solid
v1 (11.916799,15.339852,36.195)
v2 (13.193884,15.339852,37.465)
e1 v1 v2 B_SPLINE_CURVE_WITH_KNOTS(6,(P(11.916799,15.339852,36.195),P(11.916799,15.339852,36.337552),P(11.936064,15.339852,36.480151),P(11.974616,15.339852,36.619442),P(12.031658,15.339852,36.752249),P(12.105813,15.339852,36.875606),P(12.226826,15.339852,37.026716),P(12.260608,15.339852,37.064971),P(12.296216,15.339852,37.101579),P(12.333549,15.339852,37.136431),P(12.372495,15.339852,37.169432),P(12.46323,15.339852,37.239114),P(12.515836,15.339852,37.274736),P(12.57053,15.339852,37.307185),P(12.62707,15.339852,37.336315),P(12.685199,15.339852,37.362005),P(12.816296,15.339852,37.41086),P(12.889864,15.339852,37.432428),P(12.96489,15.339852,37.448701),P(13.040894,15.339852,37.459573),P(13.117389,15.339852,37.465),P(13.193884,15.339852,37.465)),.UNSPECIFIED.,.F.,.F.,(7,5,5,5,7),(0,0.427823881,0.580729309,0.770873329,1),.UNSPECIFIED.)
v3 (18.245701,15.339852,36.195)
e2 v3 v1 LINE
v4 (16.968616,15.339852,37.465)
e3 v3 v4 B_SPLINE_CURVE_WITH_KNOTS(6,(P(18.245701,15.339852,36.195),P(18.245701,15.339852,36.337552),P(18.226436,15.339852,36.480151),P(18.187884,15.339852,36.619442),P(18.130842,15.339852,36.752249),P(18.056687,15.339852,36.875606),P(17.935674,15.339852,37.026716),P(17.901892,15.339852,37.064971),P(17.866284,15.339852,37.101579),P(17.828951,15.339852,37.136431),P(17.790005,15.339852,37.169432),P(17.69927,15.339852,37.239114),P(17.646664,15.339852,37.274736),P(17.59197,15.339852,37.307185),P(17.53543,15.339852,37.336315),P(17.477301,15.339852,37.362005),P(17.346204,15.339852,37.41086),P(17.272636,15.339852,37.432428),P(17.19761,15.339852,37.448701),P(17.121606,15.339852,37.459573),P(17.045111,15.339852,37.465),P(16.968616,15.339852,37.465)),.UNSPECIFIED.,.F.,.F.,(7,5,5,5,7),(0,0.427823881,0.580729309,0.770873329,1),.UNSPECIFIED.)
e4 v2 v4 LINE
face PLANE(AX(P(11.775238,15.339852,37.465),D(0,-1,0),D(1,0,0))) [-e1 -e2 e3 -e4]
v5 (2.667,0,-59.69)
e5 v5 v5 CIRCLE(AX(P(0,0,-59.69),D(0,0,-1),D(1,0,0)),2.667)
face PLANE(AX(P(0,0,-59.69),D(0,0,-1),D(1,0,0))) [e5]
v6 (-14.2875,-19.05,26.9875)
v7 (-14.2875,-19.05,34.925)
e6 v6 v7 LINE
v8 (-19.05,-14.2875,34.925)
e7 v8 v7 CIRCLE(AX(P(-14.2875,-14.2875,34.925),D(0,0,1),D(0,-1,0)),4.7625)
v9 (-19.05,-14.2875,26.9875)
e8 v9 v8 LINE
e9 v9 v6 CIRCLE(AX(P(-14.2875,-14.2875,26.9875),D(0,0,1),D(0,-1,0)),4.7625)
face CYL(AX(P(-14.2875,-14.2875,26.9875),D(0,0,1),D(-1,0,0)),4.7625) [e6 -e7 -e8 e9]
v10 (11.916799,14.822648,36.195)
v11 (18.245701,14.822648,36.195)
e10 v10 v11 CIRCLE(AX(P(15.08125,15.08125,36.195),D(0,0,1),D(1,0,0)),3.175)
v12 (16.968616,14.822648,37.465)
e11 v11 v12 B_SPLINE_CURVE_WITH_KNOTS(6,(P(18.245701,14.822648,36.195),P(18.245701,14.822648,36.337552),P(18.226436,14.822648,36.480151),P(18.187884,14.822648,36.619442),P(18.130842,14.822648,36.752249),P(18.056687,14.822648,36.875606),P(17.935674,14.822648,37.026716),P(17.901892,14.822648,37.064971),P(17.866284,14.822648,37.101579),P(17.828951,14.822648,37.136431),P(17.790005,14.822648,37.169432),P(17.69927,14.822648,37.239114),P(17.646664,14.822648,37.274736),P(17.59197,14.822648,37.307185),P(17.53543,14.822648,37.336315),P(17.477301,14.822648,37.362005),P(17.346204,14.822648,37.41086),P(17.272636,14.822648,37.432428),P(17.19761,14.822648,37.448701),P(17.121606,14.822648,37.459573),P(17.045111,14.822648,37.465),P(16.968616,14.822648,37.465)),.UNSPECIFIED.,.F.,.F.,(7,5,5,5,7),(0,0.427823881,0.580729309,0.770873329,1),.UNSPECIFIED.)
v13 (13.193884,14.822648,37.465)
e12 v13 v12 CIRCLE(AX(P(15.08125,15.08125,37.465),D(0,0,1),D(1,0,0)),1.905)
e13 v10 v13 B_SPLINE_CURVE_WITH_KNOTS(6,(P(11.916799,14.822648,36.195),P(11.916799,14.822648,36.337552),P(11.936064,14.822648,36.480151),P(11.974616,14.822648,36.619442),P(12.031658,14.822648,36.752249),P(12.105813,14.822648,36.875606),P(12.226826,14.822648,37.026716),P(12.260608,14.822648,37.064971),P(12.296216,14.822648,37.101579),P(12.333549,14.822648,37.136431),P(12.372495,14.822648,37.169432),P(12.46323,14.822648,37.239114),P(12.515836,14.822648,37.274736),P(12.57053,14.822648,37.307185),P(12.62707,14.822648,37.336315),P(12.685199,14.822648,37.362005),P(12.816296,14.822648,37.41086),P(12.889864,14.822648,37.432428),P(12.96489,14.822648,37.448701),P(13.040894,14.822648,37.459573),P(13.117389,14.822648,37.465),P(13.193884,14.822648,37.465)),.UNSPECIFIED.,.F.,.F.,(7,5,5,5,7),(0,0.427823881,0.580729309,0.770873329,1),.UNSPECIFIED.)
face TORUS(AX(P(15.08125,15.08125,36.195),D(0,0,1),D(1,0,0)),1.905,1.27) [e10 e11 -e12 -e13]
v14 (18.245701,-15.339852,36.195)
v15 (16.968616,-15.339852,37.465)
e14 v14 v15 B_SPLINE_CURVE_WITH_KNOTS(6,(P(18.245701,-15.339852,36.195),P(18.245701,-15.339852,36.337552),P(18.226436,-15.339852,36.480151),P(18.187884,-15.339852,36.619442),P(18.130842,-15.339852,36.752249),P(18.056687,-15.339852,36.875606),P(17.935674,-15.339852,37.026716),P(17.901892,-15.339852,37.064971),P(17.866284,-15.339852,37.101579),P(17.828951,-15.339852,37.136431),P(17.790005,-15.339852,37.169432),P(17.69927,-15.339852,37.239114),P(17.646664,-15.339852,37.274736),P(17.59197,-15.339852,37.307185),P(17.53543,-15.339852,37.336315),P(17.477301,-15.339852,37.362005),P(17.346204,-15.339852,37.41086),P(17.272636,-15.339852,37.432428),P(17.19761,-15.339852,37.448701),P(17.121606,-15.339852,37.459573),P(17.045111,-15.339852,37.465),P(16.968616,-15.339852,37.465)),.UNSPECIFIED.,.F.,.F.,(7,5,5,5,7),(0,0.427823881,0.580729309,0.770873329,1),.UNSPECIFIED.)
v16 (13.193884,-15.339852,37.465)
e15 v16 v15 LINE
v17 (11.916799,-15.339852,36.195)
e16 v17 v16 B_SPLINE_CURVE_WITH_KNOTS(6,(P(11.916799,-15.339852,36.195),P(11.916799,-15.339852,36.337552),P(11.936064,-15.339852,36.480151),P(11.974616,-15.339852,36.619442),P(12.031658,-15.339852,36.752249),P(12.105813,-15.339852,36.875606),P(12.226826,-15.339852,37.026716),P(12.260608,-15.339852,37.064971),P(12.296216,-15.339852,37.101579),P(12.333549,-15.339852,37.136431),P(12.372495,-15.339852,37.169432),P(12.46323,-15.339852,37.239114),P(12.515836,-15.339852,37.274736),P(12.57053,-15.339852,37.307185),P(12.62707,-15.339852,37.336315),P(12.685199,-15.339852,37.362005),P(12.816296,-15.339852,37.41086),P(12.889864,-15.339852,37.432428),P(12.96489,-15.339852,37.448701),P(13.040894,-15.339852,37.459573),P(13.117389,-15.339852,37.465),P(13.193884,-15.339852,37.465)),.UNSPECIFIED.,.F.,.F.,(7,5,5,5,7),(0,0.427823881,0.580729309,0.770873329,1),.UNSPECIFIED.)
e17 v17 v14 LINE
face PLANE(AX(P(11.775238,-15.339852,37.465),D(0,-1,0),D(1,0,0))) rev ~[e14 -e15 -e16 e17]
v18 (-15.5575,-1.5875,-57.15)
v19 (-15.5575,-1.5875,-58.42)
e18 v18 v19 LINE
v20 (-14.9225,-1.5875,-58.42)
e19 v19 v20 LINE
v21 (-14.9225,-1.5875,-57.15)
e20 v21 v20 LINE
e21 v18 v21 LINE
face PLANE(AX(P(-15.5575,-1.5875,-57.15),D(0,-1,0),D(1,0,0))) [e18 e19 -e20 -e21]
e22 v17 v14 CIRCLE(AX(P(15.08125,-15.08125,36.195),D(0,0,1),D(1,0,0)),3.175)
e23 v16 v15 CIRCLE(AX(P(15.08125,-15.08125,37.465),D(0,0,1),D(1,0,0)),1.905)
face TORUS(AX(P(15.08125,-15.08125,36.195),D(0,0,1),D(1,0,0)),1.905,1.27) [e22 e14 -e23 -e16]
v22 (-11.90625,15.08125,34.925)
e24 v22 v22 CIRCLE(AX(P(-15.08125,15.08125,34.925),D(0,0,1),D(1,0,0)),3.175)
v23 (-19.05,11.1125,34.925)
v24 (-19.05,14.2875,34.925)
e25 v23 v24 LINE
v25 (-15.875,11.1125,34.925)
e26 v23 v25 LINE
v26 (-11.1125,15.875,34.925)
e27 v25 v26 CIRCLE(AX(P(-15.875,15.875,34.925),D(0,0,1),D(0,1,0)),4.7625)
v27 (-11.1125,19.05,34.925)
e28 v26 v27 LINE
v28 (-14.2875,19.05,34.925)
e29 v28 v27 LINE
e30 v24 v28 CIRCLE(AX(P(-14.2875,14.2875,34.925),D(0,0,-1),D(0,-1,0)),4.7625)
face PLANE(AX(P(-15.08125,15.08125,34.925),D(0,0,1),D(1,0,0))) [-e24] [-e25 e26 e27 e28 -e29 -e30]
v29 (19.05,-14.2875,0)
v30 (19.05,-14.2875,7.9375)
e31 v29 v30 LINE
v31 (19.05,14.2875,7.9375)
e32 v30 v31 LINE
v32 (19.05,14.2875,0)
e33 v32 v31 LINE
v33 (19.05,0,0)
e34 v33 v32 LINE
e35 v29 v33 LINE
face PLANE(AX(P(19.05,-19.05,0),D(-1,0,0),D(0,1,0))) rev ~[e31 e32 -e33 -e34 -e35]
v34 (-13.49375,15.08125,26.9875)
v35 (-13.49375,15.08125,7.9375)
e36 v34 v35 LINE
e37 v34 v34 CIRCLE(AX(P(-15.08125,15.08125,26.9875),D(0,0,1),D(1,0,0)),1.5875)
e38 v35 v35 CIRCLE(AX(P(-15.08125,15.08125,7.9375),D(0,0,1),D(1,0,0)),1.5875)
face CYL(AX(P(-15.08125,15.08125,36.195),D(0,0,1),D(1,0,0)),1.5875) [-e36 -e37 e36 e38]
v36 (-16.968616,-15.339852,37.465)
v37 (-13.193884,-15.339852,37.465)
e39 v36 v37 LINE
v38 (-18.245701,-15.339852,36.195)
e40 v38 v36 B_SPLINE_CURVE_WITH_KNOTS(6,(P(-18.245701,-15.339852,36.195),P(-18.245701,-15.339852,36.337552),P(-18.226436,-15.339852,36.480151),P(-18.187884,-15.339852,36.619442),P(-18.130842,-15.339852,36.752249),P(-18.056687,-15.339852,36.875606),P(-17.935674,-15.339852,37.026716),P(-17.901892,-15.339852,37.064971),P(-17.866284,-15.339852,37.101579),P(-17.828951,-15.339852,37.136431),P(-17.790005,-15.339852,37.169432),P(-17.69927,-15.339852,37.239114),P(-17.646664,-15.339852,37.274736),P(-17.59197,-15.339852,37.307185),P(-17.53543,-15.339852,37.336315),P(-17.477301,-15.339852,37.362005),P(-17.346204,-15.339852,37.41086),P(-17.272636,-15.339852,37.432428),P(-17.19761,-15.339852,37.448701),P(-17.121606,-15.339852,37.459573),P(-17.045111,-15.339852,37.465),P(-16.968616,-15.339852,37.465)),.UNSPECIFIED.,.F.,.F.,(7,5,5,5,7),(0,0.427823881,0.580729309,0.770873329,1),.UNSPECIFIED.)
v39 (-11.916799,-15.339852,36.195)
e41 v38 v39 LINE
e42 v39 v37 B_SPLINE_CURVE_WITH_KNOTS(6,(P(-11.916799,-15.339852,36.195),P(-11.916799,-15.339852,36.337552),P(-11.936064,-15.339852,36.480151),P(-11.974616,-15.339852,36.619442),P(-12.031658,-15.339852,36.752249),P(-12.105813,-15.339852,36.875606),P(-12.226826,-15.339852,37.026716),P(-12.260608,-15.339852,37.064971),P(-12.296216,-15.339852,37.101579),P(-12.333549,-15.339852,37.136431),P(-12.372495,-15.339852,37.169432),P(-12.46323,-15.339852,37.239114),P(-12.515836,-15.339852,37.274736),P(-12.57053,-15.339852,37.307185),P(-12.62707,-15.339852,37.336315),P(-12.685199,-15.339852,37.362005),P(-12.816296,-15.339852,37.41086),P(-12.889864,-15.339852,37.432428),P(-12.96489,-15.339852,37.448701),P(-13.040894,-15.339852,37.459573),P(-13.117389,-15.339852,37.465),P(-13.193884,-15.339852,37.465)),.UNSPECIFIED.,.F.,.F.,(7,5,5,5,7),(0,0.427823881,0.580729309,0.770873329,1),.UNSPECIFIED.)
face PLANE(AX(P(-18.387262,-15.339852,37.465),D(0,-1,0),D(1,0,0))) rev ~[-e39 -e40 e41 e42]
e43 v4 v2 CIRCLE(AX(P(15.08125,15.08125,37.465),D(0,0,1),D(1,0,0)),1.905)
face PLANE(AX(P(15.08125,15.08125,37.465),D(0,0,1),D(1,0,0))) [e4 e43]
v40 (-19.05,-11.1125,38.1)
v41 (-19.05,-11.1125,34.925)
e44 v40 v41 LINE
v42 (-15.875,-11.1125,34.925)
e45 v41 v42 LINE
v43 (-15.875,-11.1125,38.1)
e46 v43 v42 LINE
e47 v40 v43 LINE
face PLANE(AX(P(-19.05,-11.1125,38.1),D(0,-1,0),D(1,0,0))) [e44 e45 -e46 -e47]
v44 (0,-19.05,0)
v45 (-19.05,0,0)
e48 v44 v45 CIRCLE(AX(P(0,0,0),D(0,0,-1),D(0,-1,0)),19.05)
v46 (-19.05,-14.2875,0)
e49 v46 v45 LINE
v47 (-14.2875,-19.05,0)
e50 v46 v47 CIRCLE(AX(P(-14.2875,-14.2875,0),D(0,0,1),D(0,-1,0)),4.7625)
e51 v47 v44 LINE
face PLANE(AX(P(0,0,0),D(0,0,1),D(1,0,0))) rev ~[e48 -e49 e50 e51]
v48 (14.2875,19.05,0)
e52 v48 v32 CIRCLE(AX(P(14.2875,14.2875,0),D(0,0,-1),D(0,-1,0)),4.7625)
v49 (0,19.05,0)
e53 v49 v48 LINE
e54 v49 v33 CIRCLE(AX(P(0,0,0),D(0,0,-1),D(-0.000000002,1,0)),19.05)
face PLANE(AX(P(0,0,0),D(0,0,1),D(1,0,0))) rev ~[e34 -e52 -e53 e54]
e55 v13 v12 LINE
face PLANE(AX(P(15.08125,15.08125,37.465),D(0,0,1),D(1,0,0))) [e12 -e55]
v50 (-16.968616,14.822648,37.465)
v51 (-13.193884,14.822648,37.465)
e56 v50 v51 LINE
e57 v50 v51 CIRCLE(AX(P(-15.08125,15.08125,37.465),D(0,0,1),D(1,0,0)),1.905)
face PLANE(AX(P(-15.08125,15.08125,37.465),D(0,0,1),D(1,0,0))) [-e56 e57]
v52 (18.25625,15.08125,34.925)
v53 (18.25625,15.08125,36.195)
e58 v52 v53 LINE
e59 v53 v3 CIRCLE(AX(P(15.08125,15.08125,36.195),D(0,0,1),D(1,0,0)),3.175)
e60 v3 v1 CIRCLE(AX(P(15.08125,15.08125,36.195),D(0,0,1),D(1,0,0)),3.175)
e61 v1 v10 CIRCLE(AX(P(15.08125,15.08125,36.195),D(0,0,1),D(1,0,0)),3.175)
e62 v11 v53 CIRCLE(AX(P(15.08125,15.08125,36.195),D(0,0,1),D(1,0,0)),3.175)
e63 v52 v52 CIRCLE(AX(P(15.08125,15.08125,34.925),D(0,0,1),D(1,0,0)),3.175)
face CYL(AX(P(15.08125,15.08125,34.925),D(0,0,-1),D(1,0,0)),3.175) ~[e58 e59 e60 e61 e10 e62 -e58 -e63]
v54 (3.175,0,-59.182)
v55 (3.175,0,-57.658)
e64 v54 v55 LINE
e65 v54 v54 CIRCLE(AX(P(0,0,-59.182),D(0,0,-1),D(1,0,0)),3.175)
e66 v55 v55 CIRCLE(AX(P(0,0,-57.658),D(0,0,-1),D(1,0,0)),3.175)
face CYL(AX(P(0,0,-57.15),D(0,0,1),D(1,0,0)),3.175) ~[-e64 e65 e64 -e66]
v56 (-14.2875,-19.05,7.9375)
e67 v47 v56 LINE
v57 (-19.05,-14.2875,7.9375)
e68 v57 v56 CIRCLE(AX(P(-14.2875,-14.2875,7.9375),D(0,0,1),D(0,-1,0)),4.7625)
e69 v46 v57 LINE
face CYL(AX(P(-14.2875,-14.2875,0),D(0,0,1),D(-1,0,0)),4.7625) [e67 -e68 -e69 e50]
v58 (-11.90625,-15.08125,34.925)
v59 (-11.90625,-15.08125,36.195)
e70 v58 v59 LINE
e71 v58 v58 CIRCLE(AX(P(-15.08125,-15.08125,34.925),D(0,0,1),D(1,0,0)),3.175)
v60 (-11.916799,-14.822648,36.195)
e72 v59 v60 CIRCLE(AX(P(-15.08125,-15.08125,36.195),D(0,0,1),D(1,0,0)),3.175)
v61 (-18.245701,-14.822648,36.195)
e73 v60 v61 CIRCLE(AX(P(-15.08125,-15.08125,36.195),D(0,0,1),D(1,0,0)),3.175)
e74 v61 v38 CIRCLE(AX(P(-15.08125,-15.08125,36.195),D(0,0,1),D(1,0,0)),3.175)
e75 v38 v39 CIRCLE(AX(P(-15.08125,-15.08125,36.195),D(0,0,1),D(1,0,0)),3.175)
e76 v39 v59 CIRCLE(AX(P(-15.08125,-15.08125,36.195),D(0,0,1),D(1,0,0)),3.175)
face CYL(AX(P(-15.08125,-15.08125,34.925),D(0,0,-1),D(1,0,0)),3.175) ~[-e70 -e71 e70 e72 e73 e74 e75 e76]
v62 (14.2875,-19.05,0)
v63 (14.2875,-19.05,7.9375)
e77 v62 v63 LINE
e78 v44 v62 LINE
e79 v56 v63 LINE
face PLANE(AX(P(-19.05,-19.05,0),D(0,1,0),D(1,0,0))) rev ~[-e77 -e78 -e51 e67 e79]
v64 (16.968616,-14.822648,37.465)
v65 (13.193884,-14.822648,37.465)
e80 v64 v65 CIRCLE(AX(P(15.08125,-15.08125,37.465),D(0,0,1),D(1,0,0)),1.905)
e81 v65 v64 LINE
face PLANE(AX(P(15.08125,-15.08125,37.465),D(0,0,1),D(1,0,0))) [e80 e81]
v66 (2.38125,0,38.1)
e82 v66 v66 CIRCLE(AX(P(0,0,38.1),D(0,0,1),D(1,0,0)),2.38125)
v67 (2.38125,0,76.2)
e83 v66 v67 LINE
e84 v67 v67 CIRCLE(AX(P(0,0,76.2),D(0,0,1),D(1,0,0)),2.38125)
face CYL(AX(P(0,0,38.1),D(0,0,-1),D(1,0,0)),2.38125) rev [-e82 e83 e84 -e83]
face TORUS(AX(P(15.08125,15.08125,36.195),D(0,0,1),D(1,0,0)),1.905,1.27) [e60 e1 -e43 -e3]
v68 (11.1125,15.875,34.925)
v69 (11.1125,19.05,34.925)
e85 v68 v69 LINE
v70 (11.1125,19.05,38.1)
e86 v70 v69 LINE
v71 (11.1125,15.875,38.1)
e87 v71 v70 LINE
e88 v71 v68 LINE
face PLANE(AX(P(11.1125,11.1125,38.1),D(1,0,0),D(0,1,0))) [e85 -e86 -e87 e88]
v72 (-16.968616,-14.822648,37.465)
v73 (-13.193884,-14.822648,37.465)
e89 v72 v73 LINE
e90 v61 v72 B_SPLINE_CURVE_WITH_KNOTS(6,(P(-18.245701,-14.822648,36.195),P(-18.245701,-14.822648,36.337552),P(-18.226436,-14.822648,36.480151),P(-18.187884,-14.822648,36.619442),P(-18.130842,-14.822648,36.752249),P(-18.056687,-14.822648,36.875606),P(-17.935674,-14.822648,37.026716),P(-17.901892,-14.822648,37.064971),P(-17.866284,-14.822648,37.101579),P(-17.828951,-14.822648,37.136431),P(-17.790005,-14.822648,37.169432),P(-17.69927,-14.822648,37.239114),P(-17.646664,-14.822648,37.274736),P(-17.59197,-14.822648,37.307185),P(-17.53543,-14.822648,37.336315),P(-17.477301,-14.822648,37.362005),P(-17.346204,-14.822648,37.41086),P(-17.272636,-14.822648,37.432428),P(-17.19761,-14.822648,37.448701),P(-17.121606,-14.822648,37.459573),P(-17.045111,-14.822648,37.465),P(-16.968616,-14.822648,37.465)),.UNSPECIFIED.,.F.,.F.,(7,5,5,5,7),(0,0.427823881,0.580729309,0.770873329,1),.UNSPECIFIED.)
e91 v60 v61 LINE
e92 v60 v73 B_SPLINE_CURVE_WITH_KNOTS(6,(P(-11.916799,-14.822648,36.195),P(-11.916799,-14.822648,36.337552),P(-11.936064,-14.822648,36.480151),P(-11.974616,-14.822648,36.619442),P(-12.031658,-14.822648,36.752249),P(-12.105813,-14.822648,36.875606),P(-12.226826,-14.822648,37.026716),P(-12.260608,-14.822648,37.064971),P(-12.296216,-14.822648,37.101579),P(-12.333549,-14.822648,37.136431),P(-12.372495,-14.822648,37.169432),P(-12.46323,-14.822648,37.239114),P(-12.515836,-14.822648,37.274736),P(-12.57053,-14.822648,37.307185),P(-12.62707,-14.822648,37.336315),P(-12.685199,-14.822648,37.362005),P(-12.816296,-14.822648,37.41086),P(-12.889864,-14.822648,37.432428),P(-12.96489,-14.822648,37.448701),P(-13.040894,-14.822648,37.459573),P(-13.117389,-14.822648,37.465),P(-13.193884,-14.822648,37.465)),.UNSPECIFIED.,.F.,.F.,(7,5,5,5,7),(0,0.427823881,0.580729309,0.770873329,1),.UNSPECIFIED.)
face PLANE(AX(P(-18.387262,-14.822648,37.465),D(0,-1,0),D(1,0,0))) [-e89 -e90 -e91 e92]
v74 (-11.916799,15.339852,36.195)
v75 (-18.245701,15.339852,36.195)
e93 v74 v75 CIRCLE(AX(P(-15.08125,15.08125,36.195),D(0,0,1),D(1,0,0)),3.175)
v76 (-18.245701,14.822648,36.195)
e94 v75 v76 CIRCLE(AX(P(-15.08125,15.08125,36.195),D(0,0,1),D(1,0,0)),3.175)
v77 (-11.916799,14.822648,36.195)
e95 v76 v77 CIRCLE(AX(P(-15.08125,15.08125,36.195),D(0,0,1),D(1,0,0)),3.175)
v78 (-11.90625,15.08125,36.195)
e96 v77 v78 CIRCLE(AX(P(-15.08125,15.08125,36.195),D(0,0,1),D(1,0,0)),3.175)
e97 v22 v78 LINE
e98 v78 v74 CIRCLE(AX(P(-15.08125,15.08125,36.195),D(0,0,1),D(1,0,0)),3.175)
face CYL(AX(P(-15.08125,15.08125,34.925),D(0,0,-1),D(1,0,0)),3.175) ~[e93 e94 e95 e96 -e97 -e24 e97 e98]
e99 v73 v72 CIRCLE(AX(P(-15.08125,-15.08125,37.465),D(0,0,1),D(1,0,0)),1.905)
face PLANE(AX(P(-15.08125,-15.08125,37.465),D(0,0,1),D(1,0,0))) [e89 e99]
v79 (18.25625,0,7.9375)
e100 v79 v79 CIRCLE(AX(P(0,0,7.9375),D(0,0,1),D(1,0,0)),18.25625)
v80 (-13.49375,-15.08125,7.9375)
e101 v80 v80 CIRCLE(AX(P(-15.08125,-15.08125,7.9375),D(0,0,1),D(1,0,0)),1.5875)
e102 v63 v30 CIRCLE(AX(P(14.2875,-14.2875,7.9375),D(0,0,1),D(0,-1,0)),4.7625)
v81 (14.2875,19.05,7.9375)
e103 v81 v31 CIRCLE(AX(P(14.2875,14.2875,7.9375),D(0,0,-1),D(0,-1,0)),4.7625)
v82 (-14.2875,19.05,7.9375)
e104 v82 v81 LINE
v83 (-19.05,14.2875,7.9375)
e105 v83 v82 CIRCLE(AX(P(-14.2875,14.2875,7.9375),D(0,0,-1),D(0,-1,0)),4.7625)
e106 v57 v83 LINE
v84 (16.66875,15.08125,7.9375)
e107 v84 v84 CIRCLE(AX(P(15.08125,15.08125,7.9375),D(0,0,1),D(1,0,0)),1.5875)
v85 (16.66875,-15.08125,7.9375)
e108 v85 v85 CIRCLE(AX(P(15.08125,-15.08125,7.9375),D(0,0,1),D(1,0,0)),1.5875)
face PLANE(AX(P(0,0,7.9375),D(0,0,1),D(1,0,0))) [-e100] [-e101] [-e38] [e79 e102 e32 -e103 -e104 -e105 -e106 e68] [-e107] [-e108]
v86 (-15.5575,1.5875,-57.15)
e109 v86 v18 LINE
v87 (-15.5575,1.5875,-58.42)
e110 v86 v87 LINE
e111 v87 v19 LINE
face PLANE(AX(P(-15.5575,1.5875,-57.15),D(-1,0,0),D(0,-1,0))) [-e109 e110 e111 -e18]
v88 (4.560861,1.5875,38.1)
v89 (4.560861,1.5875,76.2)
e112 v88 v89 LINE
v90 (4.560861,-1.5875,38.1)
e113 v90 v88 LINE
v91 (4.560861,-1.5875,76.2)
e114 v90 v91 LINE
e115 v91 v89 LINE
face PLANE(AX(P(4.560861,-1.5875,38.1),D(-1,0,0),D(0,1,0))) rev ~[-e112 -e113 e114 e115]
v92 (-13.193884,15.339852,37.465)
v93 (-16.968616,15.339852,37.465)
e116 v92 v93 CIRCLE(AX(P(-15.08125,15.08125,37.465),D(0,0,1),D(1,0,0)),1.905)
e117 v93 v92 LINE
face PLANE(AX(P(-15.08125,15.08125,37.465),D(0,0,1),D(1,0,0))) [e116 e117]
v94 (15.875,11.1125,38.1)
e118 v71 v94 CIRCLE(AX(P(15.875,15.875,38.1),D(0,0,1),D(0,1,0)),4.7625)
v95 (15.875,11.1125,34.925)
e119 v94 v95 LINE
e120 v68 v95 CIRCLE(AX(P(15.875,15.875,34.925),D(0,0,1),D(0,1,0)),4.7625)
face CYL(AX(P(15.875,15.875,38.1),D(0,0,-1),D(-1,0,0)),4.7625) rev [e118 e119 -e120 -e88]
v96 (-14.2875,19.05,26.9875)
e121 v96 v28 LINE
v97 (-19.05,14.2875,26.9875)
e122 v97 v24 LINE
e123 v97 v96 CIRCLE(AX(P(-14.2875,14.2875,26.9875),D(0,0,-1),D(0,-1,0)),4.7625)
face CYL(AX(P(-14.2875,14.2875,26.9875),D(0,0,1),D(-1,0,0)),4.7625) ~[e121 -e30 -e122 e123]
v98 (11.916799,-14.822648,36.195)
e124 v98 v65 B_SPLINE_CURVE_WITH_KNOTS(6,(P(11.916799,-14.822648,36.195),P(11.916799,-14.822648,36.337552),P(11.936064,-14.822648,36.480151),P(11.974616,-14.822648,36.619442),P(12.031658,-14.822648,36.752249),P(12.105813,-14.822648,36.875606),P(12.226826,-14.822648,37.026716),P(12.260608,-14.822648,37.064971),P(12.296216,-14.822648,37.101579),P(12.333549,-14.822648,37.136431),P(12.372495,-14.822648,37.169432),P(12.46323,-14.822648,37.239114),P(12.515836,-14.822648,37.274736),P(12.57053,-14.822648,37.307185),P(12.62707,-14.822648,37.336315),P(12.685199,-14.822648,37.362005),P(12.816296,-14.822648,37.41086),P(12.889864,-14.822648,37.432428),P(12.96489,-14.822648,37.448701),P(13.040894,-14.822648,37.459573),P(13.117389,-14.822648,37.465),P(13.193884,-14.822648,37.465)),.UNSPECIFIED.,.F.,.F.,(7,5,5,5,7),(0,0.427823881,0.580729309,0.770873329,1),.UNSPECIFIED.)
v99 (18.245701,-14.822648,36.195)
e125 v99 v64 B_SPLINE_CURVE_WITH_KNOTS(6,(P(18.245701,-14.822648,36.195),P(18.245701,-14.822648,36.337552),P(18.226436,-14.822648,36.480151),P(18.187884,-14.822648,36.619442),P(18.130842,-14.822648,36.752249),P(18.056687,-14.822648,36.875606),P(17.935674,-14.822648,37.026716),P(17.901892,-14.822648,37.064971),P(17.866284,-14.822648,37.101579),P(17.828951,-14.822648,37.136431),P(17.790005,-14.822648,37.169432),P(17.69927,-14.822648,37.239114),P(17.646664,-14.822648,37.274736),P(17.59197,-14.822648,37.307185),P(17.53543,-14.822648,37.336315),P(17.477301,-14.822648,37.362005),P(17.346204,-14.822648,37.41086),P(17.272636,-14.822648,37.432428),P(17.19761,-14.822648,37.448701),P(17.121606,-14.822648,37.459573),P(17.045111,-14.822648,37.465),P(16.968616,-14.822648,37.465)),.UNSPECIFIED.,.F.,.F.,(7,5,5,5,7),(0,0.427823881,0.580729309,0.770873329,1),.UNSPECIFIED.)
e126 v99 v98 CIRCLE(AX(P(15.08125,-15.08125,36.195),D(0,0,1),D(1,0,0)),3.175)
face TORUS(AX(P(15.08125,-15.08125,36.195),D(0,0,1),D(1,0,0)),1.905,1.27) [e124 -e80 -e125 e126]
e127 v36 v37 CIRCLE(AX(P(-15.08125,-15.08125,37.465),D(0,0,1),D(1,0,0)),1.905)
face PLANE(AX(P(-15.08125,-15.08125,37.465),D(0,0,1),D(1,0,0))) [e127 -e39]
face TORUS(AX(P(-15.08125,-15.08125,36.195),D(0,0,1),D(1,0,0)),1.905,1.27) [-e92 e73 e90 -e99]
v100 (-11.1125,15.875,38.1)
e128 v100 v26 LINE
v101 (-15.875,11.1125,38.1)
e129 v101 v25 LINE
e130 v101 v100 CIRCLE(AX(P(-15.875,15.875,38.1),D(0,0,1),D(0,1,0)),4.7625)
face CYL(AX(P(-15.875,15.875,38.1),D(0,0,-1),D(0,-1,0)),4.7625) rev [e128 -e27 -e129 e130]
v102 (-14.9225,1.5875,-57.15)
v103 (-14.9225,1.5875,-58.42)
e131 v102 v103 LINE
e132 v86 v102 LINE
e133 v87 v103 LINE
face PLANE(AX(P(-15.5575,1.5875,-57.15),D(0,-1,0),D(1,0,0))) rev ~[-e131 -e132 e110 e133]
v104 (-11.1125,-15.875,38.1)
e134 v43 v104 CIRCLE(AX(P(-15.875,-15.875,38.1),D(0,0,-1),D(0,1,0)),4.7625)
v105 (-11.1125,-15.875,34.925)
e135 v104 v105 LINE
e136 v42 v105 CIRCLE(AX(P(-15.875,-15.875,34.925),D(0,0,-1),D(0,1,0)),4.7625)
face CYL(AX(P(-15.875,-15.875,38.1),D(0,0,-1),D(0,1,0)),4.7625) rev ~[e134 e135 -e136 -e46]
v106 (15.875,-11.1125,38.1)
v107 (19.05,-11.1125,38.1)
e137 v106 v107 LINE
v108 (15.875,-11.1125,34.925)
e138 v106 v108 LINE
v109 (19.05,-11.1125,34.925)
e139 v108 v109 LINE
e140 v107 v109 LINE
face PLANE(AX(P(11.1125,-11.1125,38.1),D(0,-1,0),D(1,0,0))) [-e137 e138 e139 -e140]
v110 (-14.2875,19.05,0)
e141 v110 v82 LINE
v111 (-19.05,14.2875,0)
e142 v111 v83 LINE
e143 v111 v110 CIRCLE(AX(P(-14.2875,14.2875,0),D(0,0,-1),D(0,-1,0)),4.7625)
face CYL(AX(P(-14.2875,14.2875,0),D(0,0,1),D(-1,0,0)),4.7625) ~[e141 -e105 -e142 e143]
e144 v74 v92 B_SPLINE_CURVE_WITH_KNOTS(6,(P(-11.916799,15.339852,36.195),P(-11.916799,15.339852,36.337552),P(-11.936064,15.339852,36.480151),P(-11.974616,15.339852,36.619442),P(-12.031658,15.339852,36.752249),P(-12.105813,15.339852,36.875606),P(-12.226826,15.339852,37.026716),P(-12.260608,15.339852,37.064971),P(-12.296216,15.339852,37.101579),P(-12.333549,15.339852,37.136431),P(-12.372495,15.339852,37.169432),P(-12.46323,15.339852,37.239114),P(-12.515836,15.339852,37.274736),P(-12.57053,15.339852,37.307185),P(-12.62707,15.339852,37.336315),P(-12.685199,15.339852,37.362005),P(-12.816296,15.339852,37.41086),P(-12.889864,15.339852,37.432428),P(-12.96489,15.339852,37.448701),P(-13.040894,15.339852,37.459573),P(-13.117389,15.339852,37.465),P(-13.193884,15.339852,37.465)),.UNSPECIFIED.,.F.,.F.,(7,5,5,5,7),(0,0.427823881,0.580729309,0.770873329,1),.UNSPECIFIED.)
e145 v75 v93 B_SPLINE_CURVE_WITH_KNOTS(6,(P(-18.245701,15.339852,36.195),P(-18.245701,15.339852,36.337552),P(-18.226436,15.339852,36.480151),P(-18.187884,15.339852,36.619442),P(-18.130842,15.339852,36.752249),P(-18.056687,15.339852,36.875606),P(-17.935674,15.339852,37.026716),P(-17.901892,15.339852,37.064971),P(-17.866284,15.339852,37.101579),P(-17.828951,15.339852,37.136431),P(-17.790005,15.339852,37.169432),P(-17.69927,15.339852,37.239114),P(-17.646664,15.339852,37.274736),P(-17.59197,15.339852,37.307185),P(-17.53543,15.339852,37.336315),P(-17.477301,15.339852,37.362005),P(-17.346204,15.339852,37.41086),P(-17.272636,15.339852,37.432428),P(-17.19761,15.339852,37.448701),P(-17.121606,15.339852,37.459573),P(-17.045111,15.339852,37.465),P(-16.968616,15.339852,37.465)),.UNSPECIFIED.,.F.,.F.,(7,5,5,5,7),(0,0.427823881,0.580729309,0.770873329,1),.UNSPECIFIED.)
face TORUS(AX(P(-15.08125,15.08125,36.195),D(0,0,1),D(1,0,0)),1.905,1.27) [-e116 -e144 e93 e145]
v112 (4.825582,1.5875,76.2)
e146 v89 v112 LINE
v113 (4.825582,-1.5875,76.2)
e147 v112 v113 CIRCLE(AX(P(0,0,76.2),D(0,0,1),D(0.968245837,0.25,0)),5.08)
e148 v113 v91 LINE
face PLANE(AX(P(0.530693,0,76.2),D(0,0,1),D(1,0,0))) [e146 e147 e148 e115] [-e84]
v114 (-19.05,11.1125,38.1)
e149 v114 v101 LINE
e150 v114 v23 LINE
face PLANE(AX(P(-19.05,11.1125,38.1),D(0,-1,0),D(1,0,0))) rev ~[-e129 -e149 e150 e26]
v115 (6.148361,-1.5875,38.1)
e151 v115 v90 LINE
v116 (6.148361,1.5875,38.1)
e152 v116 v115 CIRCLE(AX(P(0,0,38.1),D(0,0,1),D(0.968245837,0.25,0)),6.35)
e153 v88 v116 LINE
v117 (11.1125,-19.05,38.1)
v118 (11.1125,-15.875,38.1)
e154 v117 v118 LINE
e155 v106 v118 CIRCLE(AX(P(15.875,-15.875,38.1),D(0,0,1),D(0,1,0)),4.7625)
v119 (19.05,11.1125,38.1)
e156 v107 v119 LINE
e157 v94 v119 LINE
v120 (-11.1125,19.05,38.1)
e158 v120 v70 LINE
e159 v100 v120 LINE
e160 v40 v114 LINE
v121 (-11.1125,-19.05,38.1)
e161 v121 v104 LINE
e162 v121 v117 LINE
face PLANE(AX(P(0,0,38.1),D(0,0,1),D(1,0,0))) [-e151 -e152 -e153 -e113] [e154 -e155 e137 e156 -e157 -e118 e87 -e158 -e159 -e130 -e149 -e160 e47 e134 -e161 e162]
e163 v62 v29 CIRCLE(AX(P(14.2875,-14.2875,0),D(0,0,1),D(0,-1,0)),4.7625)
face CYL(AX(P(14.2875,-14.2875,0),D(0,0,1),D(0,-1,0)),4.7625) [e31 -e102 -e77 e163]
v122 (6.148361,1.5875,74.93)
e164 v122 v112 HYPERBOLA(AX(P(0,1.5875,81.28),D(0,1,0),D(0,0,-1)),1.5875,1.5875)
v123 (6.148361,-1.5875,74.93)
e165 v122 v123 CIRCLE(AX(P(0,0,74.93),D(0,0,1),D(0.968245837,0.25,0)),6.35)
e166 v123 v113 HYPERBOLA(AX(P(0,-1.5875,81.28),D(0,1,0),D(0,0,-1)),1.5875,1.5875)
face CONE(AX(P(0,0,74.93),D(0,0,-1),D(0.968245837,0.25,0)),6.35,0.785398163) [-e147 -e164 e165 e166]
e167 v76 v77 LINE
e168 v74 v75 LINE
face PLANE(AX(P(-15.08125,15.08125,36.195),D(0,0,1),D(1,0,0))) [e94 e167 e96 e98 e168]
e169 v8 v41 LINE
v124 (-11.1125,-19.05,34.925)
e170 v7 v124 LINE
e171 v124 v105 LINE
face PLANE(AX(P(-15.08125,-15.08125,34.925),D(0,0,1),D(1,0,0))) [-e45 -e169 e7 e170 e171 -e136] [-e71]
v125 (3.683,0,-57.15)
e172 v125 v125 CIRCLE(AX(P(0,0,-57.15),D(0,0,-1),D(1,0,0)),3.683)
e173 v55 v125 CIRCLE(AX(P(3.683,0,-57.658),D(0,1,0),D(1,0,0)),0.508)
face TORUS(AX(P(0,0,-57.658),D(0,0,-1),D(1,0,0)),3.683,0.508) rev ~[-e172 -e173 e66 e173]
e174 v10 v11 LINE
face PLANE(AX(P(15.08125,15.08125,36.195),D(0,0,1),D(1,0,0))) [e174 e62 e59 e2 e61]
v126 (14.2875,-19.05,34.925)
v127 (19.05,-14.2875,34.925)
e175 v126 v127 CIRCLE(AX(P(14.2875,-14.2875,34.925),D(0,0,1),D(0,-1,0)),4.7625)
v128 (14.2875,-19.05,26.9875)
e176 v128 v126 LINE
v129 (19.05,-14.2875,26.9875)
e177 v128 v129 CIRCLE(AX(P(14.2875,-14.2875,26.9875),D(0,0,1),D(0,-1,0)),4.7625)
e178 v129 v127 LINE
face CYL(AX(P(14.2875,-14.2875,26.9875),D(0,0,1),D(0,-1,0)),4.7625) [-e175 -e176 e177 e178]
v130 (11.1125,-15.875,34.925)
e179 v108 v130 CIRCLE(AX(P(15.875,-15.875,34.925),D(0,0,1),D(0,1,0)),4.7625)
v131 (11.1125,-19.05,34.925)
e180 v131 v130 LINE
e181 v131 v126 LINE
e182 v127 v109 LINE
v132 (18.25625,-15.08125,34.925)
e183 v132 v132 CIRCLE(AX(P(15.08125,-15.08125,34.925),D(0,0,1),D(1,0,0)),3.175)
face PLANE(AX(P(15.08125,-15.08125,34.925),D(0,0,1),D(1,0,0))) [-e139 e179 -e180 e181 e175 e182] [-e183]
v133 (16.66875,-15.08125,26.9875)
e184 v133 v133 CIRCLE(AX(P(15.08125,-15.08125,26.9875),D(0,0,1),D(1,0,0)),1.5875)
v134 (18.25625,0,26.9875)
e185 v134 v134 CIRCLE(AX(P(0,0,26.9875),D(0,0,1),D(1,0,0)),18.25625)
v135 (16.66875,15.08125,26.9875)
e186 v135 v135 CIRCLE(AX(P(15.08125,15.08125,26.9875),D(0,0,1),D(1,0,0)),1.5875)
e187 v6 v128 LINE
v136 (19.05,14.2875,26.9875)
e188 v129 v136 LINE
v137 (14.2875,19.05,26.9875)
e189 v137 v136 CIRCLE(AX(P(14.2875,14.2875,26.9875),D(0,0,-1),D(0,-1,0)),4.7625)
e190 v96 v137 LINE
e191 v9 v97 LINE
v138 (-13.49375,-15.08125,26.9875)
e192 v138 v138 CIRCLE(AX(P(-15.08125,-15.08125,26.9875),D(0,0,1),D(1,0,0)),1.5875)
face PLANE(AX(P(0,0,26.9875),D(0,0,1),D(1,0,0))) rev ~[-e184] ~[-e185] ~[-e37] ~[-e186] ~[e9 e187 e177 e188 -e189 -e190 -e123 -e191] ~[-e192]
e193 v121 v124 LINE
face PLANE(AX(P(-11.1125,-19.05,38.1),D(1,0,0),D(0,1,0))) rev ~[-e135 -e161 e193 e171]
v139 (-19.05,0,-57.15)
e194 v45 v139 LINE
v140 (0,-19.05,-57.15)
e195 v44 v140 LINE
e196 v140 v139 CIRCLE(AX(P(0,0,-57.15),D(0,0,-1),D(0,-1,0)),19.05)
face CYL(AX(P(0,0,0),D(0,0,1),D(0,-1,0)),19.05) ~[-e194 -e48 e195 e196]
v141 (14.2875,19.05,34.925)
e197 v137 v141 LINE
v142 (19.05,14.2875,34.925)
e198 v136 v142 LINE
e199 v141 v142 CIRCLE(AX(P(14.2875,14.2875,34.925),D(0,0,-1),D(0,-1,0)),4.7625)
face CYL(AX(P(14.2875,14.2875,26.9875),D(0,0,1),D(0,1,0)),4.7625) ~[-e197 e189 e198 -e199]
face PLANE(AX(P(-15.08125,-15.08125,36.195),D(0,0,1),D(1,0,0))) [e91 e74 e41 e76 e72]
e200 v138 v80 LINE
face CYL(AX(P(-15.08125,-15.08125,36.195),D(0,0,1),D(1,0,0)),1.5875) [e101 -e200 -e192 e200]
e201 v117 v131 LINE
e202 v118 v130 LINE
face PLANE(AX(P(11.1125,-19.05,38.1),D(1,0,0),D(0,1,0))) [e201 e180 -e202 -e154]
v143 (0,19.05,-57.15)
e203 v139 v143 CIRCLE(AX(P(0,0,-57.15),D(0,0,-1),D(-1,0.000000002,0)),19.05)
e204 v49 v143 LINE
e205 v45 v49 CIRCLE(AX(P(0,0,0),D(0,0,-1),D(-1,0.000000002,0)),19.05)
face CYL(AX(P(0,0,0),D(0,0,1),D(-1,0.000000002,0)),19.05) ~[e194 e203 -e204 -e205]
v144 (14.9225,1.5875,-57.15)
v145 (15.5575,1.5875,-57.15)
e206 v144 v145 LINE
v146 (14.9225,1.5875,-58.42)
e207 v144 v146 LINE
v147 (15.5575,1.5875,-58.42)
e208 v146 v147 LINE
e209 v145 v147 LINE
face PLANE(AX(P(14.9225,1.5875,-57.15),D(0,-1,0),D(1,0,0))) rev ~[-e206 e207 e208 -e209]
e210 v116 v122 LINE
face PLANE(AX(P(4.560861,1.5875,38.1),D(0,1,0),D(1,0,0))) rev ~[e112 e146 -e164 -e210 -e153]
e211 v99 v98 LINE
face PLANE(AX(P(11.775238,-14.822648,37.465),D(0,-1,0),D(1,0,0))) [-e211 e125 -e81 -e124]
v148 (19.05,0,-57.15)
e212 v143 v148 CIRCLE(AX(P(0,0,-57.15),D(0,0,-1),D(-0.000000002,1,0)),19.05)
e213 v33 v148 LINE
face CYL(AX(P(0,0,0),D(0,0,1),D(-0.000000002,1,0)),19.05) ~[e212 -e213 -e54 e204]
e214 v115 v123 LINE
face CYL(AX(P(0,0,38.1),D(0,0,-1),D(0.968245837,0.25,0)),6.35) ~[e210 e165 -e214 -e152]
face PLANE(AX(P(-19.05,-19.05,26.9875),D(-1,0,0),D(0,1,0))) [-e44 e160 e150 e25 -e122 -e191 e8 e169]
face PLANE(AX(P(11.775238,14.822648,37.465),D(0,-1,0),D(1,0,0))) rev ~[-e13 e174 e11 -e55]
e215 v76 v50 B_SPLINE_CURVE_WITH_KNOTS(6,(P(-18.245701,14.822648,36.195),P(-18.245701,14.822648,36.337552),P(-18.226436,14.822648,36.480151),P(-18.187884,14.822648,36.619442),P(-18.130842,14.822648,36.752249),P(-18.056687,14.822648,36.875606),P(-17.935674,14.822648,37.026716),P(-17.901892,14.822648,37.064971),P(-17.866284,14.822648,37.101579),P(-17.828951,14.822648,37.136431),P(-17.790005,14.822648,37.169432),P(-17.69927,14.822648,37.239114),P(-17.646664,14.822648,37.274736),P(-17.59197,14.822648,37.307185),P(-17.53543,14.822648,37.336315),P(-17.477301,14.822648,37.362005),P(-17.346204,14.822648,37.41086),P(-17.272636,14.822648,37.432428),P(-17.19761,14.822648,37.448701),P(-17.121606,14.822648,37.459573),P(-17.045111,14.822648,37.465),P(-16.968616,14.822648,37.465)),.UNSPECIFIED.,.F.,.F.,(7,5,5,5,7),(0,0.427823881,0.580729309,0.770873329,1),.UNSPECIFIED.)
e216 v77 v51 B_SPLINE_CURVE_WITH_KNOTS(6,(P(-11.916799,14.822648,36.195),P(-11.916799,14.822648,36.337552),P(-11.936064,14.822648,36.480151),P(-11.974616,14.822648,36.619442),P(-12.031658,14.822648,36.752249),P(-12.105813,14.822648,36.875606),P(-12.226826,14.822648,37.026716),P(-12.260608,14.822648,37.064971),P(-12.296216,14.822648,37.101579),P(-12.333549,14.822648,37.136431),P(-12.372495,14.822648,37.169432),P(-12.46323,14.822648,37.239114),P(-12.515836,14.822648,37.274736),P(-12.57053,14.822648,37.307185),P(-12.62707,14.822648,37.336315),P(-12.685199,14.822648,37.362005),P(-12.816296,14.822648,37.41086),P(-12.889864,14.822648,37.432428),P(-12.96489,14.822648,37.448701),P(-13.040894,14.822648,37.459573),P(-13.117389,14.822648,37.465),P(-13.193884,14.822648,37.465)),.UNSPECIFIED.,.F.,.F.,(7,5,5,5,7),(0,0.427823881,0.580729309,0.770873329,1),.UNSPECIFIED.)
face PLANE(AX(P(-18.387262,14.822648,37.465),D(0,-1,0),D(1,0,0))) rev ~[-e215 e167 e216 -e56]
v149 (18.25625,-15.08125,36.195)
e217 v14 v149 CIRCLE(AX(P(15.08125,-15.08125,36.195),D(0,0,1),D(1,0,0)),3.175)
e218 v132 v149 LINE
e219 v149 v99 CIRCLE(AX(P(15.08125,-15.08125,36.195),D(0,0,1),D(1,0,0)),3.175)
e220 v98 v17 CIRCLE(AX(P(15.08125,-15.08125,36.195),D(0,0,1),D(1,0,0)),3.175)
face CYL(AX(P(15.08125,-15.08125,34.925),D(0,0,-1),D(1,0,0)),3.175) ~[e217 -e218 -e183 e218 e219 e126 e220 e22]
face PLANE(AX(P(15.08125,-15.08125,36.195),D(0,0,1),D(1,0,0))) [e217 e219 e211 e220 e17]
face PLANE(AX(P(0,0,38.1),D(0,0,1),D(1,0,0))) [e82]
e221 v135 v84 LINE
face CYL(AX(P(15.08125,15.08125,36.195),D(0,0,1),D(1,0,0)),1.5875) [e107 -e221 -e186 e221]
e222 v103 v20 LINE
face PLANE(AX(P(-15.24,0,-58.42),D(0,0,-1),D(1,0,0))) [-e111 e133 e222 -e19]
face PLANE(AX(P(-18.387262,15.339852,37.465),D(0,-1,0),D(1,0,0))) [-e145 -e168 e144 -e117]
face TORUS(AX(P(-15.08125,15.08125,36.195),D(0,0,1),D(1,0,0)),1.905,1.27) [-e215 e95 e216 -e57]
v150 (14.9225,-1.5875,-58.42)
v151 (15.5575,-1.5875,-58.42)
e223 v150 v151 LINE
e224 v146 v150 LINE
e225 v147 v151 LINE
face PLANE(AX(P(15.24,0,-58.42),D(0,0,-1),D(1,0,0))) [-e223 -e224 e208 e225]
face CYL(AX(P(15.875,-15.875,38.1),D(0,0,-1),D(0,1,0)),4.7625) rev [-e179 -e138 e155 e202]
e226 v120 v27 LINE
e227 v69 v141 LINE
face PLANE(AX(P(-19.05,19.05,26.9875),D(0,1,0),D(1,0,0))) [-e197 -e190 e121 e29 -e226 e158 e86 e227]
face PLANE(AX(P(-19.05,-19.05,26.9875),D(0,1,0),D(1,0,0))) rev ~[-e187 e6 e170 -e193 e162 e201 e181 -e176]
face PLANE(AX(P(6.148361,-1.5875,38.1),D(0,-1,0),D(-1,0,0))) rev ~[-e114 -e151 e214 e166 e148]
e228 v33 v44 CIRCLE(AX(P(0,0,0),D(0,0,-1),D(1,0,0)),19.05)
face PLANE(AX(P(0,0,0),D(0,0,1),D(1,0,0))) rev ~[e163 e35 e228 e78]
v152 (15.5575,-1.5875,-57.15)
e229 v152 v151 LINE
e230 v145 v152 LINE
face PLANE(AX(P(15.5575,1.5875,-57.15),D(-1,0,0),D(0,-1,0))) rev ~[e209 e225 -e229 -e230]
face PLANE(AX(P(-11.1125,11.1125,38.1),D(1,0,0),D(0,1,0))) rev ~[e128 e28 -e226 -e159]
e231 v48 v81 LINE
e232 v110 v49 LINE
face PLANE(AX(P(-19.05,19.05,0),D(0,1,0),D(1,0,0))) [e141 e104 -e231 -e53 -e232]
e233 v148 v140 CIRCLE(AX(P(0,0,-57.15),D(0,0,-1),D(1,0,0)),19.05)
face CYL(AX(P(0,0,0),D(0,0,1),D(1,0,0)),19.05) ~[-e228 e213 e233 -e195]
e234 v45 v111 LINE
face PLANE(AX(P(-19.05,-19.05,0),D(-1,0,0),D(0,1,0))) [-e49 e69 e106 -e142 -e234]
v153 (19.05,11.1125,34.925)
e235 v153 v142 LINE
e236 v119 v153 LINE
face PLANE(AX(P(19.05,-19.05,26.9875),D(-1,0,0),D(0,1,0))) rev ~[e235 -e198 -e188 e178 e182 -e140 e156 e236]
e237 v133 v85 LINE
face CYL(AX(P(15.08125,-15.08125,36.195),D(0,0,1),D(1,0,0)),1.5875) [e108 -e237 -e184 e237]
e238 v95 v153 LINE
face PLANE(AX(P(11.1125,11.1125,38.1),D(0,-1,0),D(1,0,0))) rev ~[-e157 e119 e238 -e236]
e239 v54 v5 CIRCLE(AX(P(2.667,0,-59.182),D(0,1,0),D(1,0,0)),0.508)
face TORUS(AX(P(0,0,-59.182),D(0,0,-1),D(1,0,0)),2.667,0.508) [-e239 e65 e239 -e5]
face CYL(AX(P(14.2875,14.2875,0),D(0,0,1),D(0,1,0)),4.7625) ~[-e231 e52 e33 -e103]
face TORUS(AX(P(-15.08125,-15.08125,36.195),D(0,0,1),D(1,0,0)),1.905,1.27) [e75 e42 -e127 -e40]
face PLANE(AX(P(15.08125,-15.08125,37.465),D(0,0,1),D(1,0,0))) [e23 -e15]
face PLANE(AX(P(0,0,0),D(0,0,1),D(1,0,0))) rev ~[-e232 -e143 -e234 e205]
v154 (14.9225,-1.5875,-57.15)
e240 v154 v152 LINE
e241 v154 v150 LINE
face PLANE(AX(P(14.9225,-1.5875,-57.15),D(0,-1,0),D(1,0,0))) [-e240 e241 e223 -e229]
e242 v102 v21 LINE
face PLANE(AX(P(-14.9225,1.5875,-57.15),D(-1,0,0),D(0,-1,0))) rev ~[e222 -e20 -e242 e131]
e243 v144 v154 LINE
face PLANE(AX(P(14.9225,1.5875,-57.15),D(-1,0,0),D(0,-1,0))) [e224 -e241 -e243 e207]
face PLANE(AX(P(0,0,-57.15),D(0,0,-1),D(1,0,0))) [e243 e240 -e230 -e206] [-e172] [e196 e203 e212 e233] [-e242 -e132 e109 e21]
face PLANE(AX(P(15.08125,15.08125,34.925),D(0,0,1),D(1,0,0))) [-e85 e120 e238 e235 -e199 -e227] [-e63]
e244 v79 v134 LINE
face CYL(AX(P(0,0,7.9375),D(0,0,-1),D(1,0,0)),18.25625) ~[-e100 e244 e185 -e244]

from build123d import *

# Parameters (mm, degrees)
F0_W      = 38.1
F0_H      = 38.1
F1_DEPTH  = 7.9375
F2_R      = 18.25625
F3_DEPTH  = 19.05
F5_DEPTH  = 57.15
F6_W      = 38.1
F6_H      = 38.1
F7_DEPTH  = 11.1125
F8_W      = 7.9375
F8_H      = 7.9375
F9_DEPTH  = 3.175
F10_R     = 4.7625
F11_R     = 4.7625
F12_R     = 3.175
F13_DEPTH = 2.54
F14_R     = 1.27
F15_W     = 6.6120235562
F15_H     = 0.5172046214
F16_DEPTH = 1.27
F17_R     = 1.5875
F18_DEPTH = 28.2575
F19_R     = 3.175
F20_DEPTH = 2.54
F19_W     = 0.635
F19_H     = 3.175
F22_DEPTH = 1.27
F23_R     = 0.508
F21_R     = 2.38125
F24_DEPTH = 38.1
F25_SIZE  = 1.27


with BuildPart() as f1:
    # F0 (on Top) → F1 (new body)
    with BuildSketch(Plane.XY):
        Rectangle(F0_W, F0_H)
    extrude(amount=F1_DEPTH)

    # F2 (on face) → F3 (join)
    with BuildSketch(Plane.XY.offset(7.9375)):
        Circle(F2_R)
    extrude(amount=F3_DEPTH)

    # F4 (on face) → F5 (join)
    with BuildSketch(Plane(origin=(0, 0, 0), x_dir=(1, 0, 0), z_dir=(0, 0, -1))):
        with BuildLine():
            ThreePointArc((-3.68e-08, -19.05), (13.4703841686, -13.4703841946), (19.05, 0))
            ThreePointArc((19.05, 0), (13.4703841816, 13.4703841816), (0, 19.05))
            ThreePointArc((0, 19.05), (-13.4703841946, 13.4703841686), (-19.05, -3.68e-08))
            ThreePointArc((-19.05, -3.68e-08), (-13.4703841816, -13.4703841816), (-3.68e-08, -19.05))
        make_face()
    extrude(amount=F5_DEPTH)

    # F6 (on face) → F7 (join)
    with BuildSketch(Plane.XY.offset(26.9875)):
        Rectangle(F6_W, F6_H)
    extrude(amount=F7_DEPTH)

    # F8 (on face) → F9 (cut)
    with BuildSketch(Plane.XY.offset(38.1)):
        with Locations((-15.08125, 15.08125)):
            Rectangle(F8_W, F8_H)
        with Locations((15.08125, 15.08125)):
            Rectangle(F8_W, F8_H)
        with Locations((15.08125, -15.08125)):
            Rectangle(F8_W, F8_H)
        with Locations((-15.08125, -15.08125)):
            Rectangle(F8_W, F8_H)
    extrude(amount=-F9_DEPTH, mode=Mode.SUBTRACT)

    # F10
    f10_edges = [f1.edges().sort_by_distance(p)[0] for p in [
        (-19.05, -19.05, 30.95625),
        (19.05, -19.05, 30.95625),
        (19.05, -19.05, 3.96875),
        (-19.05, -19.05, 3.96875),
        (19.05, 19.05, 3.96875),
        (19.05, 19.05, 30.95625),
        (-19.05, 19.05, 3.96875),
        (-19.05, 19.05, 30.95625),
    ]]
    fillet(f10_edges, radius=F10_R)

    # F11
    f11_edges = [f1.edges().sort_by_distance(p)[0] for p in [
        (11.1125, -11.1125, 36.5125),
        (-11.1125, -11.1125, 36.5125),
        (11.1125, 11.1125, 36.5125),
        (-11.1125, 11.1125, 36.5125),
    ]]
    fillet(f11_edges, radius=F11_R)

    # F12 (on face) → F13 (join)
    with BuildSketch(Plane.XY.offset(34.925)):
        with Locations((15.08125, 15.08125)):
            Circle(F12_R)
        with Locations((-15.08125, 15.08125)):
            Circle(F12_R)
        with Locations((-15.08125, -15.08125)):
            Circle(F12_R)
        with Locations((15.08125, -15.08125)):
            Circle(F12_R)
    extrude(amount=F13_DEPTH)

    # F14
    f14_edges = [f1.edges().sort_by_distance(p)[0] for p in [
        (-18.25625, 15.08125, 37.465),
        (11.90625, 15.08125, 37.465),
        (11.90625, -15.08125, 37.465),
        (-18.25625, -15.08125, 37.465),
    ]]
    fillet(f14_edges, radius=F14_R)

    # F15 (on face) → F16 (cut)
    with BuildSketch(Plane.XY.offset(37.465)):
        with Locations((15.08125, 15.08125)):
            Rectangle(F15_W, F15_H)
        with Locations((-15.08125, 15.08125)):
            Rectangle(F15_W, F15_H)
        with Locations((15.08125, -15.08125)):
            Rectangle(F15_W, F15_H)
        with Locations((-15.08125, -15.08125)):
            Rectangle(F15_W, F15_H)
    extrude(amount=-F16_DEPTH, mode=Mode.SUBTRACT)

    # F17 (on face) → F18 (join, through all)
    with BuildSketch(Plane.XY.offset(36.195)):
        with Locations((15.08125, 15.08125)):
            Circle(F17_R)
        with Locations((-15.08125, 15.08125)):
            Circle(F17_R)
        with Locations((-15.08125, -15.08125)):
            Circle(F17_R)
        with Locations((15.08125, -15.08125)):
            Circle(F17_R)
    extrude(amount=-F18_DEPTH)

    # F19 (on face) → F20 (join)
    with BuildSketch(Plane(origin=(0, 0, -57.15), x_dir=(1, 0, 0), z_dir=(0, 0, -1))):
        Circle(F19_R)
    extrude(amount=F20_DEPTH)

    # F19 (on face) → F22 (join)
    with BuildSketch(Plane(origin=(0, 0, -57.15), x_dir=(1, 0, 0), z_dir=(0, 0, -1))):
        Circle(F19_R)
        with Locations((15.24, 0)):
            Rectangle(F19_W, F19_H)
        with Locations((-15.24, 0)):
            Rectangle(F19_W, F19_H)
    extrude(amount=F22_DEPTH)

    # F23
    f23_edges = [f1.edges().sort_by_distance(p)[0] for p in [
        (-3.175, 0, -57.15),
        (3.175, 0, -58.42),
        (-3.175, 0, -59.69),
    ]]
    fillet(f23_edges, radius=F23_R)

    # F21 (on face) → F24 (join)
    with BuildSketch(Plane.XY.offset(38.1)):
        with BuildLine():
            Line((4.5608610621, -1.5875), (4.5608610621, 0))
            Line((4.5608610621, 0), (4.5608610621, 1.5875))
            Line((4.5608610621, 1.5875), (6.1483610621, 1.5875))
            ThreePointArc((6.1483610621, 1.5875), (-6.35, 0), (6.1483610621, -1.5875))
            Line((6.1483610621, -1.5875), (4.5608610621, -1.5875))
        make_face()
        Circle(F21_R, mode=Mode.SUBTRACT)
    extrude(amount=F24_DEPTH)

    # F25
    f25_edges = [f1.edges().sort_by_distance(p)[0] for p in [
        (-6.35, 0, 76.2),
    ]]
    chamfer(f25_edges, length=F25_SIZE)


solid = f1.part
